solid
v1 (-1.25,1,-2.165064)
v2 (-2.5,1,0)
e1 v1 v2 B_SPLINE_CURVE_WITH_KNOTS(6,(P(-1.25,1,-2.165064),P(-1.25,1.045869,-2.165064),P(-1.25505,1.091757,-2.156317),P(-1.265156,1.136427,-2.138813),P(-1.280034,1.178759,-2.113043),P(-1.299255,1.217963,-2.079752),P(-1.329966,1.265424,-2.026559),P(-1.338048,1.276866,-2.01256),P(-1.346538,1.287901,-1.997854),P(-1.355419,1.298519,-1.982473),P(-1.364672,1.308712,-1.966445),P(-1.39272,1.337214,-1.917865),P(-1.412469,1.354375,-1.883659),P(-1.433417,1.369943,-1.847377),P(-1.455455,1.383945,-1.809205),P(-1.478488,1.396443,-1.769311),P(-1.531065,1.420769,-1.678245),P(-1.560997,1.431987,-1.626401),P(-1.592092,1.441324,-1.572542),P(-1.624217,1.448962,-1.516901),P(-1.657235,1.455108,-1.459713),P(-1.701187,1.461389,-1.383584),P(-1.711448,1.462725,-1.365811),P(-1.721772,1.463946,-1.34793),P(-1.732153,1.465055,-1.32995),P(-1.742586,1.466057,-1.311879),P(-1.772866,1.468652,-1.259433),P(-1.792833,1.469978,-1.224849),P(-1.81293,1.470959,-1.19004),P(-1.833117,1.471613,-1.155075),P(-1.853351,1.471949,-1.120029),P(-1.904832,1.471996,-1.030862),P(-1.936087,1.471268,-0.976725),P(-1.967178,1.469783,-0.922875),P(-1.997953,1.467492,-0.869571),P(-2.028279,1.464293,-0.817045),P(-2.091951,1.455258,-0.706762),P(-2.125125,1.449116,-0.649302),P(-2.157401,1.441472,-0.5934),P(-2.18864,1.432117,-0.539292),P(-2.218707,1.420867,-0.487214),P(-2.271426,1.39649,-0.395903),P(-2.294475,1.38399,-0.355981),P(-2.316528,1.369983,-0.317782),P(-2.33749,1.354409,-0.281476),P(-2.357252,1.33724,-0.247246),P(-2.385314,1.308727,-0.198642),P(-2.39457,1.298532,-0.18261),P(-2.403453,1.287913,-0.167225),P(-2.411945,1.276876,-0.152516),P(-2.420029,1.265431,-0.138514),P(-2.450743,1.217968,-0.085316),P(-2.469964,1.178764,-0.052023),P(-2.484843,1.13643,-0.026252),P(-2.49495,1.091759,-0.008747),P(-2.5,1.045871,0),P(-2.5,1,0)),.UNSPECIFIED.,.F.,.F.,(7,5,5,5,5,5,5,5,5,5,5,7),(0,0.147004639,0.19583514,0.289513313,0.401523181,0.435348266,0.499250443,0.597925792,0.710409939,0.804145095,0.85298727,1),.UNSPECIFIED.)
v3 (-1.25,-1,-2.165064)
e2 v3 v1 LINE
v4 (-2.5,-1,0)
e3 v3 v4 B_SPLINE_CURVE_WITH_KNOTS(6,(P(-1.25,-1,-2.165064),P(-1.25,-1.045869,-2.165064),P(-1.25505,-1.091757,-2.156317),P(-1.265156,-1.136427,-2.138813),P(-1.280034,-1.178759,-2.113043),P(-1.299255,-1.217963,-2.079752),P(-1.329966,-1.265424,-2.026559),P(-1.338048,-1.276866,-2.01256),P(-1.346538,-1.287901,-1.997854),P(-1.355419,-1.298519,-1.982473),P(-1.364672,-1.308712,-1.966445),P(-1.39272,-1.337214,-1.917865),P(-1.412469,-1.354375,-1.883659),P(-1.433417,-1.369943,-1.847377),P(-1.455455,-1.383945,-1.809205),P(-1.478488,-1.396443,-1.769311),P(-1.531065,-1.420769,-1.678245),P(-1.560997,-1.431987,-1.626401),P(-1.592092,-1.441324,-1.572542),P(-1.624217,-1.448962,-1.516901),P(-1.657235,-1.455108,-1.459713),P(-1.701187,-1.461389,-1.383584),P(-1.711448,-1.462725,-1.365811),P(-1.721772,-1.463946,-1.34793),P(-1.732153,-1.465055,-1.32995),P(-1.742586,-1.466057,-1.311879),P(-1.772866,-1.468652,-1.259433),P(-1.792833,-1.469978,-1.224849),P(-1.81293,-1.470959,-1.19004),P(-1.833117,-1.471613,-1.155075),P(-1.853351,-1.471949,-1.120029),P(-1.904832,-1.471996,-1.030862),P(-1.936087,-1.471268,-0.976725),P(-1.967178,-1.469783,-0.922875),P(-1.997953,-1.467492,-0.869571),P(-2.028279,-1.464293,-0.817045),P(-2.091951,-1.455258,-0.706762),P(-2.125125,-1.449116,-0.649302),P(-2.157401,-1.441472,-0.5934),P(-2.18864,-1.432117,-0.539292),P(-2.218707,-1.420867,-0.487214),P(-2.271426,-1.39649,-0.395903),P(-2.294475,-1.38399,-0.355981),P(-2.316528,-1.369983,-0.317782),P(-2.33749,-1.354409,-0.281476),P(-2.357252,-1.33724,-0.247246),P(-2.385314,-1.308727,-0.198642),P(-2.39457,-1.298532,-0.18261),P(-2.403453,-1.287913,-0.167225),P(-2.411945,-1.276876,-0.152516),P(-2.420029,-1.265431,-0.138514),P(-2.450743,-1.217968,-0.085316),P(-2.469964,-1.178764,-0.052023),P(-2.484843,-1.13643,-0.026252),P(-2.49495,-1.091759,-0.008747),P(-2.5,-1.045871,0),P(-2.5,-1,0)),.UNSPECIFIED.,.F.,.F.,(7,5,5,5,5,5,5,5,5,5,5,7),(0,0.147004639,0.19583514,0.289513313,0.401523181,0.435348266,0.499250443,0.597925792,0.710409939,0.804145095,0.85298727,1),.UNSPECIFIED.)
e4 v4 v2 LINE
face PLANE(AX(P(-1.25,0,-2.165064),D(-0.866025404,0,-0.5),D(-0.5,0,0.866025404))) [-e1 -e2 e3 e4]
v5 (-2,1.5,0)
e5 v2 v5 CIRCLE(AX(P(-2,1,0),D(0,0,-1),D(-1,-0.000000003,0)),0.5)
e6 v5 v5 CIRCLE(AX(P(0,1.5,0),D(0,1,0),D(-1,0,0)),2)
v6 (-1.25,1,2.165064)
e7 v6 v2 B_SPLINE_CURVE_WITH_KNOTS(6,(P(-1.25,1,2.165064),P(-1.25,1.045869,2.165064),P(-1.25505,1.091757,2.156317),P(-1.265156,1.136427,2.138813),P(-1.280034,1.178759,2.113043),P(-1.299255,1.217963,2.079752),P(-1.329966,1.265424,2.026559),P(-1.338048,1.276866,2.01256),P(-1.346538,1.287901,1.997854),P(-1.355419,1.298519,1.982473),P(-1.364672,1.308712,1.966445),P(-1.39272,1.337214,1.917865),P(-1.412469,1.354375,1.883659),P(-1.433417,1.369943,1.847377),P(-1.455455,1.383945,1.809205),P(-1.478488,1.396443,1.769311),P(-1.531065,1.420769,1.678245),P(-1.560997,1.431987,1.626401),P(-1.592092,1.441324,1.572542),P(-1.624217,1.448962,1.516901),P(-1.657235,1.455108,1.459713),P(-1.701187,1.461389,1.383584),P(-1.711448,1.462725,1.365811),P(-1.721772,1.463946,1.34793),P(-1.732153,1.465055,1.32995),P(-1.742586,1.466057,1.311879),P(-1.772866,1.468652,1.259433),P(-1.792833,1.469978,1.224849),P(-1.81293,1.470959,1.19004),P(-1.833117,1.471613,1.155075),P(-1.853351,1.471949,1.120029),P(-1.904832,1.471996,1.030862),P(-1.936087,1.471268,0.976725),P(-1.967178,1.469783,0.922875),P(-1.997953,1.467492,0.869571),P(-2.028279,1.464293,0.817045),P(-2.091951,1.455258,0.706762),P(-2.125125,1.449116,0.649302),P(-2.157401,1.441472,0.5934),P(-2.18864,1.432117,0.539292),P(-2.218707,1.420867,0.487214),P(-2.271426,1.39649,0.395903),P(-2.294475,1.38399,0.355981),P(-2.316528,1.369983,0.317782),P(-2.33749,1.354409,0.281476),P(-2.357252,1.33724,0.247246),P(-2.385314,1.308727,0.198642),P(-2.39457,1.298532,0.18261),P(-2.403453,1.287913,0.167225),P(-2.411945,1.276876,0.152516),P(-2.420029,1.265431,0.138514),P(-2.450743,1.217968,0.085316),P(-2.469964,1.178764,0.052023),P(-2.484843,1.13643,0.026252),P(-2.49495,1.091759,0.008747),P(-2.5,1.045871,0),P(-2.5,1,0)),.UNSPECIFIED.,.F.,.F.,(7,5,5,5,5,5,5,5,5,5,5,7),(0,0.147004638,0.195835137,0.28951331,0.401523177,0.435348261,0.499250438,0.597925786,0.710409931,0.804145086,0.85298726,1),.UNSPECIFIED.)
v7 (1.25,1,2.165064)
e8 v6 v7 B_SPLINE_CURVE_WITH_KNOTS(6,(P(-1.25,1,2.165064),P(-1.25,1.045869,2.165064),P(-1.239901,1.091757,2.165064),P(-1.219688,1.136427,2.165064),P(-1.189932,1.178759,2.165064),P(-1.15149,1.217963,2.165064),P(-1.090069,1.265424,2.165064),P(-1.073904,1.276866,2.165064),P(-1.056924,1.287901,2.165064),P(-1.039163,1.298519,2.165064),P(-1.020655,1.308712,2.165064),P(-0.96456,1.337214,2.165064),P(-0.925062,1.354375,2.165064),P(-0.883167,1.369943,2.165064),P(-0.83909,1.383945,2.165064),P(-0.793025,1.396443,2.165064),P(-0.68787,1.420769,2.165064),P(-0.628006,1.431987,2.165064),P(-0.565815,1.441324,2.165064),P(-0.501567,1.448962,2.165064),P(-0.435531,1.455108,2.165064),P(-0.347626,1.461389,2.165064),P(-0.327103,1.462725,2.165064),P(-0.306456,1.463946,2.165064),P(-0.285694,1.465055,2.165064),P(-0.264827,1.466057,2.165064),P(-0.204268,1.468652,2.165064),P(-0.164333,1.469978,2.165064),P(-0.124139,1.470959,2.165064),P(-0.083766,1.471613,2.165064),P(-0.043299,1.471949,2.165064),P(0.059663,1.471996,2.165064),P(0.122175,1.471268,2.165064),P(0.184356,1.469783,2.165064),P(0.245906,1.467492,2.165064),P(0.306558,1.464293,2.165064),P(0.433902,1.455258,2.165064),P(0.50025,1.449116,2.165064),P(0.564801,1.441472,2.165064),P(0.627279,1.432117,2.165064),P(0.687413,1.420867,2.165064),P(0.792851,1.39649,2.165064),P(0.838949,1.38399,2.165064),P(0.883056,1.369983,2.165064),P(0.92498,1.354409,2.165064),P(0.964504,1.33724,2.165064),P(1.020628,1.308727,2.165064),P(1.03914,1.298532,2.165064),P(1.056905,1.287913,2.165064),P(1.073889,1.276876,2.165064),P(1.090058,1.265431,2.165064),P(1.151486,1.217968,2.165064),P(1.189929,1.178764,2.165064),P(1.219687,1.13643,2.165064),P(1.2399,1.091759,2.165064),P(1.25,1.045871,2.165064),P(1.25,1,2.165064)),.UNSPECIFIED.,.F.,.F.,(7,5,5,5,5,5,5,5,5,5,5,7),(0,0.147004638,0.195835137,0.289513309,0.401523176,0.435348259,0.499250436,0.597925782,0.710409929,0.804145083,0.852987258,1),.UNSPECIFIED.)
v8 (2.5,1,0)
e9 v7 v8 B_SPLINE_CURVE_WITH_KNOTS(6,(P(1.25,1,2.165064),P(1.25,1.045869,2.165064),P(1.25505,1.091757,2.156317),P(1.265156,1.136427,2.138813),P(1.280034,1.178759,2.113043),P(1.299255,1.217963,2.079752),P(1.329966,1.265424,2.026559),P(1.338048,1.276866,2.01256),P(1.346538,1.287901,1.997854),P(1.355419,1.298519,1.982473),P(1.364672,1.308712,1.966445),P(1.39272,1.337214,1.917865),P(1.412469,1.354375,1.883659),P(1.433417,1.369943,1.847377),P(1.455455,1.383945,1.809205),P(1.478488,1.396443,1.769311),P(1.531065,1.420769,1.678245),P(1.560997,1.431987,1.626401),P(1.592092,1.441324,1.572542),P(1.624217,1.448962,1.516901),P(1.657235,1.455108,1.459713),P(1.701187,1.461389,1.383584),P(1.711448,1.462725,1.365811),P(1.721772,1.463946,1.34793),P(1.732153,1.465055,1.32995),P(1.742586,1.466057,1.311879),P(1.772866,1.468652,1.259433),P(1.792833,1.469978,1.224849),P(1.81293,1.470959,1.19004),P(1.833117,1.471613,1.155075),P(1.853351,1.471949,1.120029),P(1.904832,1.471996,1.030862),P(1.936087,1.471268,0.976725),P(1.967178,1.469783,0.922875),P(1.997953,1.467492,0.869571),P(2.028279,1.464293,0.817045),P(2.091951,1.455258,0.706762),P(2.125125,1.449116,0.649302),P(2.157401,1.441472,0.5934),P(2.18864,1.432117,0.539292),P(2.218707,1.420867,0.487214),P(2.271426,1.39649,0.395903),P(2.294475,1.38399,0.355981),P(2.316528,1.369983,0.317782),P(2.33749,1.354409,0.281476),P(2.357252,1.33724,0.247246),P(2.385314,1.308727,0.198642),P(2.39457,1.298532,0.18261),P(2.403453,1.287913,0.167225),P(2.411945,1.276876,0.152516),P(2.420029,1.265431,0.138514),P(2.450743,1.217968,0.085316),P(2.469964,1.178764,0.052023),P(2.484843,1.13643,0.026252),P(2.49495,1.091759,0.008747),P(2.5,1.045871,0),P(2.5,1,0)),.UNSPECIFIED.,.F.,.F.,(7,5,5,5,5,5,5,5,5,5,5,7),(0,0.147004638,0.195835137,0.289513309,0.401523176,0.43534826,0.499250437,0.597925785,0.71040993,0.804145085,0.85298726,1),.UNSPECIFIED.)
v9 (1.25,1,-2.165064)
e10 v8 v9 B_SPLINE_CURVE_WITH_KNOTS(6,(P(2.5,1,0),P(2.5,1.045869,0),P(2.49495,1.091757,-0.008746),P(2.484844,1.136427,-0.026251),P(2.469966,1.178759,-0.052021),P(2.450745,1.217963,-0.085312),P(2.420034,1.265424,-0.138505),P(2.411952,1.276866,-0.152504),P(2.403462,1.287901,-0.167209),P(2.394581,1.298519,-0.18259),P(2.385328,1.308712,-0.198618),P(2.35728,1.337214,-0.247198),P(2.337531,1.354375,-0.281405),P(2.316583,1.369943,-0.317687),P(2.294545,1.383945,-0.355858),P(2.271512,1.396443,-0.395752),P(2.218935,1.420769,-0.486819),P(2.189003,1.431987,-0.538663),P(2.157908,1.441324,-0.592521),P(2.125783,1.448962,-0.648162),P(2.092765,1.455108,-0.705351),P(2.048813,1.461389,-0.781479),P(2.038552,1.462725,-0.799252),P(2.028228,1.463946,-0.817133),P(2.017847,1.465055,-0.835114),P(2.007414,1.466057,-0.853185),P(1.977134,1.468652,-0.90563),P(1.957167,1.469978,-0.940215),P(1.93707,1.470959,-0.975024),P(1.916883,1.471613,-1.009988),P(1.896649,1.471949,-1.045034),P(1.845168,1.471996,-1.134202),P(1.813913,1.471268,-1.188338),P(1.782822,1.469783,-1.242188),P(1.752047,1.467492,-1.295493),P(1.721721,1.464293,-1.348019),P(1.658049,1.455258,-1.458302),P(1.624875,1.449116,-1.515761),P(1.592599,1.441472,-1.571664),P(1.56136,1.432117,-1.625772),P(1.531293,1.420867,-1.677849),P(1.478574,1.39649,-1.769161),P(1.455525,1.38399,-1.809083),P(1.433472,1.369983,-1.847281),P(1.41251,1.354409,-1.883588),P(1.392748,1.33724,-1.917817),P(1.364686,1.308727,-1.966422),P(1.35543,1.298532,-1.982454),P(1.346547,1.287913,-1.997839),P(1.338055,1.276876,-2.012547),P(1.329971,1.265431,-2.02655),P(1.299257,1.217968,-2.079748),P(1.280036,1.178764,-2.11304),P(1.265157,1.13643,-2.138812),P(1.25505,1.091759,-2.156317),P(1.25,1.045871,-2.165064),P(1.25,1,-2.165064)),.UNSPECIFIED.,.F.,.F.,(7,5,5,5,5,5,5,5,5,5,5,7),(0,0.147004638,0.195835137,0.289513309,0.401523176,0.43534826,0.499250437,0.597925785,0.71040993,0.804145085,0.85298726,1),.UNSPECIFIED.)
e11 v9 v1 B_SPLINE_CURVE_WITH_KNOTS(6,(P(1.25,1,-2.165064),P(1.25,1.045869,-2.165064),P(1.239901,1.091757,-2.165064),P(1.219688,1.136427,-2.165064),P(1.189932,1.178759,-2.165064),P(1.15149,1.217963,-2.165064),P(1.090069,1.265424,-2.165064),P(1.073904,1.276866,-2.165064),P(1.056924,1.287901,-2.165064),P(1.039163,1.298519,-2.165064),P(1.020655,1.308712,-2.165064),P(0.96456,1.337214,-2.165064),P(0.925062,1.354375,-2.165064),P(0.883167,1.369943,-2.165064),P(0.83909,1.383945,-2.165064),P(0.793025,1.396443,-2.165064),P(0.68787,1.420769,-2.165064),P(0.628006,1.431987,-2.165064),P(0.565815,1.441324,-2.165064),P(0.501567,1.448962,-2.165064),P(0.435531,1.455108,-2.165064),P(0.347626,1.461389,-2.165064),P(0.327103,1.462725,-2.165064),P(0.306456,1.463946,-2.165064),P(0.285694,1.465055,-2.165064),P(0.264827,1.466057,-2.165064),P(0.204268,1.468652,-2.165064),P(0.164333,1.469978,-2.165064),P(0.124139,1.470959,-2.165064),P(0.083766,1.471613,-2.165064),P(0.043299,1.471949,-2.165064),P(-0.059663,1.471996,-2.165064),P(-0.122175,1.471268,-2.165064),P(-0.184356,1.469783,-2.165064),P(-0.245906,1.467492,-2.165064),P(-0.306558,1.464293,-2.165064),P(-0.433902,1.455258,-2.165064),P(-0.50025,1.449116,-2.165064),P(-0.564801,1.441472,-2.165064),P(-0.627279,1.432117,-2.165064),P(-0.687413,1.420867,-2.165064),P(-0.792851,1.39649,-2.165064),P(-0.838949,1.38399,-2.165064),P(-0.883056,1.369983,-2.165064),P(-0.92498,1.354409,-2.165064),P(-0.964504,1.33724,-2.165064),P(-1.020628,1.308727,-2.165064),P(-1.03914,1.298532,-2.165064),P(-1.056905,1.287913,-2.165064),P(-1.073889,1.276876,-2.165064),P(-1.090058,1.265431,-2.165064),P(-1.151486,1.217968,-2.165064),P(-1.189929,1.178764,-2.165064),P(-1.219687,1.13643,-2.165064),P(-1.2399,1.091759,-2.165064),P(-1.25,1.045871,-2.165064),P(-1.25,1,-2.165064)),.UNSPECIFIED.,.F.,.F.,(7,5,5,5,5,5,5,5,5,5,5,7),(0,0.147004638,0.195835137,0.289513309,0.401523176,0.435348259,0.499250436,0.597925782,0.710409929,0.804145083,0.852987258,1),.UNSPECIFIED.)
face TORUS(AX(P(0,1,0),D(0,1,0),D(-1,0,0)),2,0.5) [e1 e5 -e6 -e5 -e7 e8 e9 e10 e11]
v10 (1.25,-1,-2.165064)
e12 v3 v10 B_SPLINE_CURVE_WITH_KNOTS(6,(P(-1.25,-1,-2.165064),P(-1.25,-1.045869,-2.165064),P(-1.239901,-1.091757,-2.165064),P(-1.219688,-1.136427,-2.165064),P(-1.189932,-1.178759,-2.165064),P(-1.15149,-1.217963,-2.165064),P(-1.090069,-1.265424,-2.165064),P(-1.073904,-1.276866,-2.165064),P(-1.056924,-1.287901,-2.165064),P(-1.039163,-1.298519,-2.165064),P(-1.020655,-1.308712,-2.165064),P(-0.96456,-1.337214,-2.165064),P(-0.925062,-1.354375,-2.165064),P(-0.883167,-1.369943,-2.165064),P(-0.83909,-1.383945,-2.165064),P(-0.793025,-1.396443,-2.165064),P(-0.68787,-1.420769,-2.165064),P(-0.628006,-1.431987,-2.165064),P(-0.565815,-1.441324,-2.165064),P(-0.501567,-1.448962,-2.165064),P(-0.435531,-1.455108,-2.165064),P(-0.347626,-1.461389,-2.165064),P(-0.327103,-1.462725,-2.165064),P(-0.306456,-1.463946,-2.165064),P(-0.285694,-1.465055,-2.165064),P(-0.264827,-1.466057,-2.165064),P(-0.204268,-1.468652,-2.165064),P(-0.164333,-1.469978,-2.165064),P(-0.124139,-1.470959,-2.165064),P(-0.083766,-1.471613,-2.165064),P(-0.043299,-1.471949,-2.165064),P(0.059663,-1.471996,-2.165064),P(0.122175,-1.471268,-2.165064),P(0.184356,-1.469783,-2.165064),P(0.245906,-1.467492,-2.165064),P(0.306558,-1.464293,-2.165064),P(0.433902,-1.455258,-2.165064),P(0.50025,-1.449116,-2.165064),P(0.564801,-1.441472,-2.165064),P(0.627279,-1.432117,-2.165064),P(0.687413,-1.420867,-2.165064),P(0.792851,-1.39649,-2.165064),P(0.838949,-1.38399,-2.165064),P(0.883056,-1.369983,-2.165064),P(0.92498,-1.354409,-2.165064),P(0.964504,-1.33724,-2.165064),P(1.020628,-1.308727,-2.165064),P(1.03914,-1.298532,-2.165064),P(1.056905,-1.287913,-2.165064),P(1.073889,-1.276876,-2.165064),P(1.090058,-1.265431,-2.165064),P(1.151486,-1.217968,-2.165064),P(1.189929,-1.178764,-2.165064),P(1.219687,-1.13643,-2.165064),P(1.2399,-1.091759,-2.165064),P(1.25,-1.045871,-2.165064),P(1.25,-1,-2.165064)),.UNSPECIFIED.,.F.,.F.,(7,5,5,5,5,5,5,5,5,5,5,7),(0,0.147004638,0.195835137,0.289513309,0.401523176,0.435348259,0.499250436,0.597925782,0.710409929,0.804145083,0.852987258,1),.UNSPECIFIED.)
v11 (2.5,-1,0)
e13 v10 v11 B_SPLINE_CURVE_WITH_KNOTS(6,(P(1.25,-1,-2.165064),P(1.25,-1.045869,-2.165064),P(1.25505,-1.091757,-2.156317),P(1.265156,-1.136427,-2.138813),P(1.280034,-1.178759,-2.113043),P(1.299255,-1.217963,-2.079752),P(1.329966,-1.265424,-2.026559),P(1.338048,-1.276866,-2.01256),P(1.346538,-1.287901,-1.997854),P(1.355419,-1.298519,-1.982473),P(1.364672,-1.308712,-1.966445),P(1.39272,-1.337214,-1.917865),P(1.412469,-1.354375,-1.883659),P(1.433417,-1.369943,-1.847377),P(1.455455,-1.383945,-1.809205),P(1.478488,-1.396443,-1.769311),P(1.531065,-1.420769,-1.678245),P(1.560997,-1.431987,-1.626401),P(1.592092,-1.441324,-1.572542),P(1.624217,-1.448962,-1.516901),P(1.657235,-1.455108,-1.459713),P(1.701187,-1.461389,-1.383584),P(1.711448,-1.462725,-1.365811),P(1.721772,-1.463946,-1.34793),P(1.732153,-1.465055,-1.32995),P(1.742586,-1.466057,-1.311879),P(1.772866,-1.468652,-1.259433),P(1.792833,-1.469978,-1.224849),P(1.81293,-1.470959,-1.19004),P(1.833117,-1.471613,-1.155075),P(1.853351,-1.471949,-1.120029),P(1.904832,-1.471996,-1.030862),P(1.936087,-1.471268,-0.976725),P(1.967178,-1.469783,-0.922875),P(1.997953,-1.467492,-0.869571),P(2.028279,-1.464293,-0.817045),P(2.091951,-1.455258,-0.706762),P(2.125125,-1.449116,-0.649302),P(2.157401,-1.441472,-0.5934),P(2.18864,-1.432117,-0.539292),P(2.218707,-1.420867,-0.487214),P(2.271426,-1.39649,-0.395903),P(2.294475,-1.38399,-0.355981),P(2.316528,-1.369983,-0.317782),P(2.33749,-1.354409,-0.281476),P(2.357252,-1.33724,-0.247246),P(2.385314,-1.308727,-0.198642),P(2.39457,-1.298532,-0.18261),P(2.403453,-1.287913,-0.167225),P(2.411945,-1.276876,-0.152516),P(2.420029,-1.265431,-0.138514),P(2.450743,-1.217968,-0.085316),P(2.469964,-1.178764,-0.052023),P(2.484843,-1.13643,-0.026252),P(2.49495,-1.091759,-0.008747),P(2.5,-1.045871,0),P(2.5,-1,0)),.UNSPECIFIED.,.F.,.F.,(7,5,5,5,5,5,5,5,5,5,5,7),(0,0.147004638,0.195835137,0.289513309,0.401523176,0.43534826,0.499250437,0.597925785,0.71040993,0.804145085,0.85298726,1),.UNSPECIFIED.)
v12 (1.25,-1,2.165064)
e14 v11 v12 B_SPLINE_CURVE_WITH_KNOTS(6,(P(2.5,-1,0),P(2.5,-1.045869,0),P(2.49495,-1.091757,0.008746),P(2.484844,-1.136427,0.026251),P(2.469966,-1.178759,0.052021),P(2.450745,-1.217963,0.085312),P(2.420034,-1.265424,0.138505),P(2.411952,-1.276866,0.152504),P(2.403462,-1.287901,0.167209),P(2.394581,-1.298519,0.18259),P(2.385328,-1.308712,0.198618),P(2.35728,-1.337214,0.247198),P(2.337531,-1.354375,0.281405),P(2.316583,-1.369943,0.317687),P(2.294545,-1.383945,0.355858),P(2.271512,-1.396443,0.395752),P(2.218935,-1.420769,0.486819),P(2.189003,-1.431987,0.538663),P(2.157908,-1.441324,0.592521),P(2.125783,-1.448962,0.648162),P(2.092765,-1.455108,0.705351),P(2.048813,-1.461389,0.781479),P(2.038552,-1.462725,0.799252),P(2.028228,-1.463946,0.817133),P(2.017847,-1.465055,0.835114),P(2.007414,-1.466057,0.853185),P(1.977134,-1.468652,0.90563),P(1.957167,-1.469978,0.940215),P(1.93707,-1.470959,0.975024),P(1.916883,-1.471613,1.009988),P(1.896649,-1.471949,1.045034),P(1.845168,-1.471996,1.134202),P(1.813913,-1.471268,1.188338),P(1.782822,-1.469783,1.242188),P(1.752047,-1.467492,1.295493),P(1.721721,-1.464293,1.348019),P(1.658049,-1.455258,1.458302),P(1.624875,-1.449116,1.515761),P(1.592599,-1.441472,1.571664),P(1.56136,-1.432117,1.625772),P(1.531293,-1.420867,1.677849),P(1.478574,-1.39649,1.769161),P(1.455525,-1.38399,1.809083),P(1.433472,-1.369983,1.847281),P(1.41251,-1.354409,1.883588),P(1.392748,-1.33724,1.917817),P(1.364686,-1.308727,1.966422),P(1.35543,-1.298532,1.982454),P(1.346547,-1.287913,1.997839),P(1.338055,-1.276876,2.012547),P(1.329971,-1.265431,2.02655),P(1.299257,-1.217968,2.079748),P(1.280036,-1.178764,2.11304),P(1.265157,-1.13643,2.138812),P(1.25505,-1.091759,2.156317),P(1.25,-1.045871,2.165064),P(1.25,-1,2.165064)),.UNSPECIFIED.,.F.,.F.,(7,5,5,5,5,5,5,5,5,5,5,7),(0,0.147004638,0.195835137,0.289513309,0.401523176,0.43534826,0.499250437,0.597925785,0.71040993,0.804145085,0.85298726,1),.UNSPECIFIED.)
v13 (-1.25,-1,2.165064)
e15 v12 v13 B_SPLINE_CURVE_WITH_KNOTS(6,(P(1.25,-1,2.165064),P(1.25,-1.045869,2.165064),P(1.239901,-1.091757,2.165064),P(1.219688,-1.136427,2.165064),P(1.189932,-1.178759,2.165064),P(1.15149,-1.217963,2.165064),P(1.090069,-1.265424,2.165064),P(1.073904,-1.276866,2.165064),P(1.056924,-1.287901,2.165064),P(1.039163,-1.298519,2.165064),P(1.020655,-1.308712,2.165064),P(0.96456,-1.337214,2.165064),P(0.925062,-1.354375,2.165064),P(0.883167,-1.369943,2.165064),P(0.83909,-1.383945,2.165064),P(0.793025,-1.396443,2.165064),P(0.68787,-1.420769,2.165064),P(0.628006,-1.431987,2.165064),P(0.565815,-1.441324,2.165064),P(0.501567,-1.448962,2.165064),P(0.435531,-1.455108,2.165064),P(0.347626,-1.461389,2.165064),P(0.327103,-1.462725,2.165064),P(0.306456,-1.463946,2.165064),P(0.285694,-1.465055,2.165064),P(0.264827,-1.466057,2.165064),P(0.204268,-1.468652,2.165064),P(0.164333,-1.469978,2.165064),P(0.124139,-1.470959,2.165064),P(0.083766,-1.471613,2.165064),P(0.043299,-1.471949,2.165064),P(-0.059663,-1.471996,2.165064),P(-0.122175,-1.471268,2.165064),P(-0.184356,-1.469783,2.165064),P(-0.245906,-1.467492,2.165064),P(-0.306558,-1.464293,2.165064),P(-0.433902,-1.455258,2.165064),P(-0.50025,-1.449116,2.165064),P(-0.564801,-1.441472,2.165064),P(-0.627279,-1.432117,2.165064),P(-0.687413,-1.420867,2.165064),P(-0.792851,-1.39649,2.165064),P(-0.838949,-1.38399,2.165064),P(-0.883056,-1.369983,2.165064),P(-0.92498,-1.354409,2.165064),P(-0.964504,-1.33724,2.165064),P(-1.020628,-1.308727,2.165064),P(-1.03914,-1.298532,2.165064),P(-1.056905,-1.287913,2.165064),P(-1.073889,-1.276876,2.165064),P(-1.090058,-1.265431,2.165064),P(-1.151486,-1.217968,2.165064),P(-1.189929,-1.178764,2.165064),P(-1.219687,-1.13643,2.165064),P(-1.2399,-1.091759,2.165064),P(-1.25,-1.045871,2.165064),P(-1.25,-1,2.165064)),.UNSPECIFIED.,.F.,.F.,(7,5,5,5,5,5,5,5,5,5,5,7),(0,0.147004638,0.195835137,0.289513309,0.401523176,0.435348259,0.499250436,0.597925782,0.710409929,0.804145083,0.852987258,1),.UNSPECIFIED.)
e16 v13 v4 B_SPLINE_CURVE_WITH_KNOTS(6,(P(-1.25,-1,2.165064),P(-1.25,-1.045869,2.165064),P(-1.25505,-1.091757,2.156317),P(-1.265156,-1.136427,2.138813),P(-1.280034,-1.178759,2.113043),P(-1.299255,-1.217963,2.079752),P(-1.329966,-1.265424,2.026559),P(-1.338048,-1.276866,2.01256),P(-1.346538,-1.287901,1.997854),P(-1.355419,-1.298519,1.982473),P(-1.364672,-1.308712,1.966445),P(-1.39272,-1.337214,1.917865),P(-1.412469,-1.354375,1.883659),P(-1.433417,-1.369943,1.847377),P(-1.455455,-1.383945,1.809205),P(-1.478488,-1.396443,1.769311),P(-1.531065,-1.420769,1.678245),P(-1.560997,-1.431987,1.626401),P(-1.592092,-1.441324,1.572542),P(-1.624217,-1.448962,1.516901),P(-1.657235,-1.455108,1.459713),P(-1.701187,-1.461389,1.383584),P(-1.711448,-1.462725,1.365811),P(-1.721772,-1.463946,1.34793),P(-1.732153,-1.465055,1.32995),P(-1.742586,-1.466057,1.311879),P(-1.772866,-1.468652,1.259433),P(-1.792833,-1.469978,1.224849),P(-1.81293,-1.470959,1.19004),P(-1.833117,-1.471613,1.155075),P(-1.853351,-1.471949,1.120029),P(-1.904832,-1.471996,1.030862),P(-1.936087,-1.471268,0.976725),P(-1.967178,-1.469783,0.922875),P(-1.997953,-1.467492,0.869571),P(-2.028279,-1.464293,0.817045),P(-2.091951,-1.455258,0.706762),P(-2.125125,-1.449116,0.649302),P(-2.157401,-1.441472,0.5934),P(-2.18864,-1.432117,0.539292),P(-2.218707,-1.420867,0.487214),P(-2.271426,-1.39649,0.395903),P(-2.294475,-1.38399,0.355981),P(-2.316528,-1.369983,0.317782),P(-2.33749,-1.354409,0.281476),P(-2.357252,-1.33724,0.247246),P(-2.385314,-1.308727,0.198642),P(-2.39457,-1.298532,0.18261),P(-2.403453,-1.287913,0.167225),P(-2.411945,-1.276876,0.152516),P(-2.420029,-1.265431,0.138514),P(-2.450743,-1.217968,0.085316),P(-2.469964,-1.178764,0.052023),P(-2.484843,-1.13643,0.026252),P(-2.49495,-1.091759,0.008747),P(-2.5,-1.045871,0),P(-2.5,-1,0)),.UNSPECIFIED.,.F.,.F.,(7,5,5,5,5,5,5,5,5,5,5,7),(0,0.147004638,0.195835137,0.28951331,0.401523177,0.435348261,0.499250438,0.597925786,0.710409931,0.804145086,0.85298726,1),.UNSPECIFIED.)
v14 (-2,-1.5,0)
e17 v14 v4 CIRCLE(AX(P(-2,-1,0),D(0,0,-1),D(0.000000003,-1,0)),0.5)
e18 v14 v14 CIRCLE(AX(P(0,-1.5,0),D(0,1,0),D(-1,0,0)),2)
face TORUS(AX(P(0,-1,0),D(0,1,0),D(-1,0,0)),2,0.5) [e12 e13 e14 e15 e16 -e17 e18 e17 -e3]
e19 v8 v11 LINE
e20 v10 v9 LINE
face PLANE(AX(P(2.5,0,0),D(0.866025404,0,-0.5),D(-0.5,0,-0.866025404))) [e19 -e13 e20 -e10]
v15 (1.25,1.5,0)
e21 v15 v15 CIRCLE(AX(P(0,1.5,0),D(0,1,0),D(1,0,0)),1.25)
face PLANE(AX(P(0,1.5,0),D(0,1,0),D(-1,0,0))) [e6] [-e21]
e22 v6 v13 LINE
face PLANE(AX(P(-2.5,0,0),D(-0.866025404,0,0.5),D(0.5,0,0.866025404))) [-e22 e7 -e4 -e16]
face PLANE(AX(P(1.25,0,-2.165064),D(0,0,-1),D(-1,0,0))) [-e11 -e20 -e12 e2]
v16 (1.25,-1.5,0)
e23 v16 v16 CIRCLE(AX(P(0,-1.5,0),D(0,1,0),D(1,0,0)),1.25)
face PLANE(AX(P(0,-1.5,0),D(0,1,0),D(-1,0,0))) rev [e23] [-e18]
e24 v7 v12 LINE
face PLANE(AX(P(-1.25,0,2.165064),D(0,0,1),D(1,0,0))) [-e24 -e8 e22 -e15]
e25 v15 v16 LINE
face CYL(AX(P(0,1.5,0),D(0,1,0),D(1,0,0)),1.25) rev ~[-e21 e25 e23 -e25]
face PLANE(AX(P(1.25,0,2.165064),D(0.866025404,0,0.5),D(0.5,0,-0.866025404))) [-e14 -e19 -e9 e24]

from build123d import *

# Parameters (mm, degrees)
BOSS_EXTRUDE1_DEPTH = 1.5
SKETCH2_R           = 1.25
CUT_EXTRUDE1_DEPTH  = 4


with BuildPart() as part:
    # Sketch1 → Boss-Extrude1 (new body, symmetric)
    with BuildSketch(Plane(origin=(0, 0, 0), x_dir=(1, 0, 0), z_dir=(0, 1, 0))):
        Polygon((2.5, 0), (1.25, 2.165063509), (-1.25, 2.165063509), (-2.5, 0), (-1.25, -2.165063509), (1.25, -2.165063509), align=None)
    extrude(amount=BOSS_EXTRUDE1_DEPTH, both=True)

    # Sketch2 → Cut-Extrude1 (cut, through all)
    with BuildSketch(Plane(origin=(0, 1.5, 0), x_dir=(1, 0, 0), z_dir=(0, 1, 0))):
        Circle(SKETCH2_R)
    extrude(amount=-CUT_EXTRUDE1_DEPTH, mode=Mode.SUBTRACT)

    # Sketch3 → Cut-Revolve1 (revolve, cut)
    with BuildSketch(Plane.XY):
        with BuildLine():
            Line((-2, 1.5), (-1.792019958, 1.5))
            Line((-1.792019958, 1.5), (-2.45433601, 1.868931602))
            Line((-2.45433601, 1.868931602), (-2.872282185, 1.266409158))
            Line((-2.872282185, 1.266409158), (-2.5, 0.870574679))
            Line((-2.5, 0.870574679), (-2.5, 1))
            ThreePointArc((-2.5, 1), (-2.353553391, 1.353553391), (-2, 1.5))
        make_face()
        with BuildLine():
            Line((-2.5, -1), (-2.5, -0.713166542))
            Line((-2.5, -0.713166542), (-2.9927012, -1.5))
            Line((-2.9927012, -1.5), (-2.45433601, -1.839605404))
            Line((-2.45433601, -1.839605404), (-1.859208979, -1.5))
            Line((-1.859208979, -1.5), (-2, -1.5))
            ThreePointArc((-2, -1.5), (-2.353553391, -1.353553391), (-2.5, -1))
        make_face()
    revolve(axis=Axis((0, 0, 0), (0, 1, 0)), mode=Mode.SUBTRACT)


solid = part.part
